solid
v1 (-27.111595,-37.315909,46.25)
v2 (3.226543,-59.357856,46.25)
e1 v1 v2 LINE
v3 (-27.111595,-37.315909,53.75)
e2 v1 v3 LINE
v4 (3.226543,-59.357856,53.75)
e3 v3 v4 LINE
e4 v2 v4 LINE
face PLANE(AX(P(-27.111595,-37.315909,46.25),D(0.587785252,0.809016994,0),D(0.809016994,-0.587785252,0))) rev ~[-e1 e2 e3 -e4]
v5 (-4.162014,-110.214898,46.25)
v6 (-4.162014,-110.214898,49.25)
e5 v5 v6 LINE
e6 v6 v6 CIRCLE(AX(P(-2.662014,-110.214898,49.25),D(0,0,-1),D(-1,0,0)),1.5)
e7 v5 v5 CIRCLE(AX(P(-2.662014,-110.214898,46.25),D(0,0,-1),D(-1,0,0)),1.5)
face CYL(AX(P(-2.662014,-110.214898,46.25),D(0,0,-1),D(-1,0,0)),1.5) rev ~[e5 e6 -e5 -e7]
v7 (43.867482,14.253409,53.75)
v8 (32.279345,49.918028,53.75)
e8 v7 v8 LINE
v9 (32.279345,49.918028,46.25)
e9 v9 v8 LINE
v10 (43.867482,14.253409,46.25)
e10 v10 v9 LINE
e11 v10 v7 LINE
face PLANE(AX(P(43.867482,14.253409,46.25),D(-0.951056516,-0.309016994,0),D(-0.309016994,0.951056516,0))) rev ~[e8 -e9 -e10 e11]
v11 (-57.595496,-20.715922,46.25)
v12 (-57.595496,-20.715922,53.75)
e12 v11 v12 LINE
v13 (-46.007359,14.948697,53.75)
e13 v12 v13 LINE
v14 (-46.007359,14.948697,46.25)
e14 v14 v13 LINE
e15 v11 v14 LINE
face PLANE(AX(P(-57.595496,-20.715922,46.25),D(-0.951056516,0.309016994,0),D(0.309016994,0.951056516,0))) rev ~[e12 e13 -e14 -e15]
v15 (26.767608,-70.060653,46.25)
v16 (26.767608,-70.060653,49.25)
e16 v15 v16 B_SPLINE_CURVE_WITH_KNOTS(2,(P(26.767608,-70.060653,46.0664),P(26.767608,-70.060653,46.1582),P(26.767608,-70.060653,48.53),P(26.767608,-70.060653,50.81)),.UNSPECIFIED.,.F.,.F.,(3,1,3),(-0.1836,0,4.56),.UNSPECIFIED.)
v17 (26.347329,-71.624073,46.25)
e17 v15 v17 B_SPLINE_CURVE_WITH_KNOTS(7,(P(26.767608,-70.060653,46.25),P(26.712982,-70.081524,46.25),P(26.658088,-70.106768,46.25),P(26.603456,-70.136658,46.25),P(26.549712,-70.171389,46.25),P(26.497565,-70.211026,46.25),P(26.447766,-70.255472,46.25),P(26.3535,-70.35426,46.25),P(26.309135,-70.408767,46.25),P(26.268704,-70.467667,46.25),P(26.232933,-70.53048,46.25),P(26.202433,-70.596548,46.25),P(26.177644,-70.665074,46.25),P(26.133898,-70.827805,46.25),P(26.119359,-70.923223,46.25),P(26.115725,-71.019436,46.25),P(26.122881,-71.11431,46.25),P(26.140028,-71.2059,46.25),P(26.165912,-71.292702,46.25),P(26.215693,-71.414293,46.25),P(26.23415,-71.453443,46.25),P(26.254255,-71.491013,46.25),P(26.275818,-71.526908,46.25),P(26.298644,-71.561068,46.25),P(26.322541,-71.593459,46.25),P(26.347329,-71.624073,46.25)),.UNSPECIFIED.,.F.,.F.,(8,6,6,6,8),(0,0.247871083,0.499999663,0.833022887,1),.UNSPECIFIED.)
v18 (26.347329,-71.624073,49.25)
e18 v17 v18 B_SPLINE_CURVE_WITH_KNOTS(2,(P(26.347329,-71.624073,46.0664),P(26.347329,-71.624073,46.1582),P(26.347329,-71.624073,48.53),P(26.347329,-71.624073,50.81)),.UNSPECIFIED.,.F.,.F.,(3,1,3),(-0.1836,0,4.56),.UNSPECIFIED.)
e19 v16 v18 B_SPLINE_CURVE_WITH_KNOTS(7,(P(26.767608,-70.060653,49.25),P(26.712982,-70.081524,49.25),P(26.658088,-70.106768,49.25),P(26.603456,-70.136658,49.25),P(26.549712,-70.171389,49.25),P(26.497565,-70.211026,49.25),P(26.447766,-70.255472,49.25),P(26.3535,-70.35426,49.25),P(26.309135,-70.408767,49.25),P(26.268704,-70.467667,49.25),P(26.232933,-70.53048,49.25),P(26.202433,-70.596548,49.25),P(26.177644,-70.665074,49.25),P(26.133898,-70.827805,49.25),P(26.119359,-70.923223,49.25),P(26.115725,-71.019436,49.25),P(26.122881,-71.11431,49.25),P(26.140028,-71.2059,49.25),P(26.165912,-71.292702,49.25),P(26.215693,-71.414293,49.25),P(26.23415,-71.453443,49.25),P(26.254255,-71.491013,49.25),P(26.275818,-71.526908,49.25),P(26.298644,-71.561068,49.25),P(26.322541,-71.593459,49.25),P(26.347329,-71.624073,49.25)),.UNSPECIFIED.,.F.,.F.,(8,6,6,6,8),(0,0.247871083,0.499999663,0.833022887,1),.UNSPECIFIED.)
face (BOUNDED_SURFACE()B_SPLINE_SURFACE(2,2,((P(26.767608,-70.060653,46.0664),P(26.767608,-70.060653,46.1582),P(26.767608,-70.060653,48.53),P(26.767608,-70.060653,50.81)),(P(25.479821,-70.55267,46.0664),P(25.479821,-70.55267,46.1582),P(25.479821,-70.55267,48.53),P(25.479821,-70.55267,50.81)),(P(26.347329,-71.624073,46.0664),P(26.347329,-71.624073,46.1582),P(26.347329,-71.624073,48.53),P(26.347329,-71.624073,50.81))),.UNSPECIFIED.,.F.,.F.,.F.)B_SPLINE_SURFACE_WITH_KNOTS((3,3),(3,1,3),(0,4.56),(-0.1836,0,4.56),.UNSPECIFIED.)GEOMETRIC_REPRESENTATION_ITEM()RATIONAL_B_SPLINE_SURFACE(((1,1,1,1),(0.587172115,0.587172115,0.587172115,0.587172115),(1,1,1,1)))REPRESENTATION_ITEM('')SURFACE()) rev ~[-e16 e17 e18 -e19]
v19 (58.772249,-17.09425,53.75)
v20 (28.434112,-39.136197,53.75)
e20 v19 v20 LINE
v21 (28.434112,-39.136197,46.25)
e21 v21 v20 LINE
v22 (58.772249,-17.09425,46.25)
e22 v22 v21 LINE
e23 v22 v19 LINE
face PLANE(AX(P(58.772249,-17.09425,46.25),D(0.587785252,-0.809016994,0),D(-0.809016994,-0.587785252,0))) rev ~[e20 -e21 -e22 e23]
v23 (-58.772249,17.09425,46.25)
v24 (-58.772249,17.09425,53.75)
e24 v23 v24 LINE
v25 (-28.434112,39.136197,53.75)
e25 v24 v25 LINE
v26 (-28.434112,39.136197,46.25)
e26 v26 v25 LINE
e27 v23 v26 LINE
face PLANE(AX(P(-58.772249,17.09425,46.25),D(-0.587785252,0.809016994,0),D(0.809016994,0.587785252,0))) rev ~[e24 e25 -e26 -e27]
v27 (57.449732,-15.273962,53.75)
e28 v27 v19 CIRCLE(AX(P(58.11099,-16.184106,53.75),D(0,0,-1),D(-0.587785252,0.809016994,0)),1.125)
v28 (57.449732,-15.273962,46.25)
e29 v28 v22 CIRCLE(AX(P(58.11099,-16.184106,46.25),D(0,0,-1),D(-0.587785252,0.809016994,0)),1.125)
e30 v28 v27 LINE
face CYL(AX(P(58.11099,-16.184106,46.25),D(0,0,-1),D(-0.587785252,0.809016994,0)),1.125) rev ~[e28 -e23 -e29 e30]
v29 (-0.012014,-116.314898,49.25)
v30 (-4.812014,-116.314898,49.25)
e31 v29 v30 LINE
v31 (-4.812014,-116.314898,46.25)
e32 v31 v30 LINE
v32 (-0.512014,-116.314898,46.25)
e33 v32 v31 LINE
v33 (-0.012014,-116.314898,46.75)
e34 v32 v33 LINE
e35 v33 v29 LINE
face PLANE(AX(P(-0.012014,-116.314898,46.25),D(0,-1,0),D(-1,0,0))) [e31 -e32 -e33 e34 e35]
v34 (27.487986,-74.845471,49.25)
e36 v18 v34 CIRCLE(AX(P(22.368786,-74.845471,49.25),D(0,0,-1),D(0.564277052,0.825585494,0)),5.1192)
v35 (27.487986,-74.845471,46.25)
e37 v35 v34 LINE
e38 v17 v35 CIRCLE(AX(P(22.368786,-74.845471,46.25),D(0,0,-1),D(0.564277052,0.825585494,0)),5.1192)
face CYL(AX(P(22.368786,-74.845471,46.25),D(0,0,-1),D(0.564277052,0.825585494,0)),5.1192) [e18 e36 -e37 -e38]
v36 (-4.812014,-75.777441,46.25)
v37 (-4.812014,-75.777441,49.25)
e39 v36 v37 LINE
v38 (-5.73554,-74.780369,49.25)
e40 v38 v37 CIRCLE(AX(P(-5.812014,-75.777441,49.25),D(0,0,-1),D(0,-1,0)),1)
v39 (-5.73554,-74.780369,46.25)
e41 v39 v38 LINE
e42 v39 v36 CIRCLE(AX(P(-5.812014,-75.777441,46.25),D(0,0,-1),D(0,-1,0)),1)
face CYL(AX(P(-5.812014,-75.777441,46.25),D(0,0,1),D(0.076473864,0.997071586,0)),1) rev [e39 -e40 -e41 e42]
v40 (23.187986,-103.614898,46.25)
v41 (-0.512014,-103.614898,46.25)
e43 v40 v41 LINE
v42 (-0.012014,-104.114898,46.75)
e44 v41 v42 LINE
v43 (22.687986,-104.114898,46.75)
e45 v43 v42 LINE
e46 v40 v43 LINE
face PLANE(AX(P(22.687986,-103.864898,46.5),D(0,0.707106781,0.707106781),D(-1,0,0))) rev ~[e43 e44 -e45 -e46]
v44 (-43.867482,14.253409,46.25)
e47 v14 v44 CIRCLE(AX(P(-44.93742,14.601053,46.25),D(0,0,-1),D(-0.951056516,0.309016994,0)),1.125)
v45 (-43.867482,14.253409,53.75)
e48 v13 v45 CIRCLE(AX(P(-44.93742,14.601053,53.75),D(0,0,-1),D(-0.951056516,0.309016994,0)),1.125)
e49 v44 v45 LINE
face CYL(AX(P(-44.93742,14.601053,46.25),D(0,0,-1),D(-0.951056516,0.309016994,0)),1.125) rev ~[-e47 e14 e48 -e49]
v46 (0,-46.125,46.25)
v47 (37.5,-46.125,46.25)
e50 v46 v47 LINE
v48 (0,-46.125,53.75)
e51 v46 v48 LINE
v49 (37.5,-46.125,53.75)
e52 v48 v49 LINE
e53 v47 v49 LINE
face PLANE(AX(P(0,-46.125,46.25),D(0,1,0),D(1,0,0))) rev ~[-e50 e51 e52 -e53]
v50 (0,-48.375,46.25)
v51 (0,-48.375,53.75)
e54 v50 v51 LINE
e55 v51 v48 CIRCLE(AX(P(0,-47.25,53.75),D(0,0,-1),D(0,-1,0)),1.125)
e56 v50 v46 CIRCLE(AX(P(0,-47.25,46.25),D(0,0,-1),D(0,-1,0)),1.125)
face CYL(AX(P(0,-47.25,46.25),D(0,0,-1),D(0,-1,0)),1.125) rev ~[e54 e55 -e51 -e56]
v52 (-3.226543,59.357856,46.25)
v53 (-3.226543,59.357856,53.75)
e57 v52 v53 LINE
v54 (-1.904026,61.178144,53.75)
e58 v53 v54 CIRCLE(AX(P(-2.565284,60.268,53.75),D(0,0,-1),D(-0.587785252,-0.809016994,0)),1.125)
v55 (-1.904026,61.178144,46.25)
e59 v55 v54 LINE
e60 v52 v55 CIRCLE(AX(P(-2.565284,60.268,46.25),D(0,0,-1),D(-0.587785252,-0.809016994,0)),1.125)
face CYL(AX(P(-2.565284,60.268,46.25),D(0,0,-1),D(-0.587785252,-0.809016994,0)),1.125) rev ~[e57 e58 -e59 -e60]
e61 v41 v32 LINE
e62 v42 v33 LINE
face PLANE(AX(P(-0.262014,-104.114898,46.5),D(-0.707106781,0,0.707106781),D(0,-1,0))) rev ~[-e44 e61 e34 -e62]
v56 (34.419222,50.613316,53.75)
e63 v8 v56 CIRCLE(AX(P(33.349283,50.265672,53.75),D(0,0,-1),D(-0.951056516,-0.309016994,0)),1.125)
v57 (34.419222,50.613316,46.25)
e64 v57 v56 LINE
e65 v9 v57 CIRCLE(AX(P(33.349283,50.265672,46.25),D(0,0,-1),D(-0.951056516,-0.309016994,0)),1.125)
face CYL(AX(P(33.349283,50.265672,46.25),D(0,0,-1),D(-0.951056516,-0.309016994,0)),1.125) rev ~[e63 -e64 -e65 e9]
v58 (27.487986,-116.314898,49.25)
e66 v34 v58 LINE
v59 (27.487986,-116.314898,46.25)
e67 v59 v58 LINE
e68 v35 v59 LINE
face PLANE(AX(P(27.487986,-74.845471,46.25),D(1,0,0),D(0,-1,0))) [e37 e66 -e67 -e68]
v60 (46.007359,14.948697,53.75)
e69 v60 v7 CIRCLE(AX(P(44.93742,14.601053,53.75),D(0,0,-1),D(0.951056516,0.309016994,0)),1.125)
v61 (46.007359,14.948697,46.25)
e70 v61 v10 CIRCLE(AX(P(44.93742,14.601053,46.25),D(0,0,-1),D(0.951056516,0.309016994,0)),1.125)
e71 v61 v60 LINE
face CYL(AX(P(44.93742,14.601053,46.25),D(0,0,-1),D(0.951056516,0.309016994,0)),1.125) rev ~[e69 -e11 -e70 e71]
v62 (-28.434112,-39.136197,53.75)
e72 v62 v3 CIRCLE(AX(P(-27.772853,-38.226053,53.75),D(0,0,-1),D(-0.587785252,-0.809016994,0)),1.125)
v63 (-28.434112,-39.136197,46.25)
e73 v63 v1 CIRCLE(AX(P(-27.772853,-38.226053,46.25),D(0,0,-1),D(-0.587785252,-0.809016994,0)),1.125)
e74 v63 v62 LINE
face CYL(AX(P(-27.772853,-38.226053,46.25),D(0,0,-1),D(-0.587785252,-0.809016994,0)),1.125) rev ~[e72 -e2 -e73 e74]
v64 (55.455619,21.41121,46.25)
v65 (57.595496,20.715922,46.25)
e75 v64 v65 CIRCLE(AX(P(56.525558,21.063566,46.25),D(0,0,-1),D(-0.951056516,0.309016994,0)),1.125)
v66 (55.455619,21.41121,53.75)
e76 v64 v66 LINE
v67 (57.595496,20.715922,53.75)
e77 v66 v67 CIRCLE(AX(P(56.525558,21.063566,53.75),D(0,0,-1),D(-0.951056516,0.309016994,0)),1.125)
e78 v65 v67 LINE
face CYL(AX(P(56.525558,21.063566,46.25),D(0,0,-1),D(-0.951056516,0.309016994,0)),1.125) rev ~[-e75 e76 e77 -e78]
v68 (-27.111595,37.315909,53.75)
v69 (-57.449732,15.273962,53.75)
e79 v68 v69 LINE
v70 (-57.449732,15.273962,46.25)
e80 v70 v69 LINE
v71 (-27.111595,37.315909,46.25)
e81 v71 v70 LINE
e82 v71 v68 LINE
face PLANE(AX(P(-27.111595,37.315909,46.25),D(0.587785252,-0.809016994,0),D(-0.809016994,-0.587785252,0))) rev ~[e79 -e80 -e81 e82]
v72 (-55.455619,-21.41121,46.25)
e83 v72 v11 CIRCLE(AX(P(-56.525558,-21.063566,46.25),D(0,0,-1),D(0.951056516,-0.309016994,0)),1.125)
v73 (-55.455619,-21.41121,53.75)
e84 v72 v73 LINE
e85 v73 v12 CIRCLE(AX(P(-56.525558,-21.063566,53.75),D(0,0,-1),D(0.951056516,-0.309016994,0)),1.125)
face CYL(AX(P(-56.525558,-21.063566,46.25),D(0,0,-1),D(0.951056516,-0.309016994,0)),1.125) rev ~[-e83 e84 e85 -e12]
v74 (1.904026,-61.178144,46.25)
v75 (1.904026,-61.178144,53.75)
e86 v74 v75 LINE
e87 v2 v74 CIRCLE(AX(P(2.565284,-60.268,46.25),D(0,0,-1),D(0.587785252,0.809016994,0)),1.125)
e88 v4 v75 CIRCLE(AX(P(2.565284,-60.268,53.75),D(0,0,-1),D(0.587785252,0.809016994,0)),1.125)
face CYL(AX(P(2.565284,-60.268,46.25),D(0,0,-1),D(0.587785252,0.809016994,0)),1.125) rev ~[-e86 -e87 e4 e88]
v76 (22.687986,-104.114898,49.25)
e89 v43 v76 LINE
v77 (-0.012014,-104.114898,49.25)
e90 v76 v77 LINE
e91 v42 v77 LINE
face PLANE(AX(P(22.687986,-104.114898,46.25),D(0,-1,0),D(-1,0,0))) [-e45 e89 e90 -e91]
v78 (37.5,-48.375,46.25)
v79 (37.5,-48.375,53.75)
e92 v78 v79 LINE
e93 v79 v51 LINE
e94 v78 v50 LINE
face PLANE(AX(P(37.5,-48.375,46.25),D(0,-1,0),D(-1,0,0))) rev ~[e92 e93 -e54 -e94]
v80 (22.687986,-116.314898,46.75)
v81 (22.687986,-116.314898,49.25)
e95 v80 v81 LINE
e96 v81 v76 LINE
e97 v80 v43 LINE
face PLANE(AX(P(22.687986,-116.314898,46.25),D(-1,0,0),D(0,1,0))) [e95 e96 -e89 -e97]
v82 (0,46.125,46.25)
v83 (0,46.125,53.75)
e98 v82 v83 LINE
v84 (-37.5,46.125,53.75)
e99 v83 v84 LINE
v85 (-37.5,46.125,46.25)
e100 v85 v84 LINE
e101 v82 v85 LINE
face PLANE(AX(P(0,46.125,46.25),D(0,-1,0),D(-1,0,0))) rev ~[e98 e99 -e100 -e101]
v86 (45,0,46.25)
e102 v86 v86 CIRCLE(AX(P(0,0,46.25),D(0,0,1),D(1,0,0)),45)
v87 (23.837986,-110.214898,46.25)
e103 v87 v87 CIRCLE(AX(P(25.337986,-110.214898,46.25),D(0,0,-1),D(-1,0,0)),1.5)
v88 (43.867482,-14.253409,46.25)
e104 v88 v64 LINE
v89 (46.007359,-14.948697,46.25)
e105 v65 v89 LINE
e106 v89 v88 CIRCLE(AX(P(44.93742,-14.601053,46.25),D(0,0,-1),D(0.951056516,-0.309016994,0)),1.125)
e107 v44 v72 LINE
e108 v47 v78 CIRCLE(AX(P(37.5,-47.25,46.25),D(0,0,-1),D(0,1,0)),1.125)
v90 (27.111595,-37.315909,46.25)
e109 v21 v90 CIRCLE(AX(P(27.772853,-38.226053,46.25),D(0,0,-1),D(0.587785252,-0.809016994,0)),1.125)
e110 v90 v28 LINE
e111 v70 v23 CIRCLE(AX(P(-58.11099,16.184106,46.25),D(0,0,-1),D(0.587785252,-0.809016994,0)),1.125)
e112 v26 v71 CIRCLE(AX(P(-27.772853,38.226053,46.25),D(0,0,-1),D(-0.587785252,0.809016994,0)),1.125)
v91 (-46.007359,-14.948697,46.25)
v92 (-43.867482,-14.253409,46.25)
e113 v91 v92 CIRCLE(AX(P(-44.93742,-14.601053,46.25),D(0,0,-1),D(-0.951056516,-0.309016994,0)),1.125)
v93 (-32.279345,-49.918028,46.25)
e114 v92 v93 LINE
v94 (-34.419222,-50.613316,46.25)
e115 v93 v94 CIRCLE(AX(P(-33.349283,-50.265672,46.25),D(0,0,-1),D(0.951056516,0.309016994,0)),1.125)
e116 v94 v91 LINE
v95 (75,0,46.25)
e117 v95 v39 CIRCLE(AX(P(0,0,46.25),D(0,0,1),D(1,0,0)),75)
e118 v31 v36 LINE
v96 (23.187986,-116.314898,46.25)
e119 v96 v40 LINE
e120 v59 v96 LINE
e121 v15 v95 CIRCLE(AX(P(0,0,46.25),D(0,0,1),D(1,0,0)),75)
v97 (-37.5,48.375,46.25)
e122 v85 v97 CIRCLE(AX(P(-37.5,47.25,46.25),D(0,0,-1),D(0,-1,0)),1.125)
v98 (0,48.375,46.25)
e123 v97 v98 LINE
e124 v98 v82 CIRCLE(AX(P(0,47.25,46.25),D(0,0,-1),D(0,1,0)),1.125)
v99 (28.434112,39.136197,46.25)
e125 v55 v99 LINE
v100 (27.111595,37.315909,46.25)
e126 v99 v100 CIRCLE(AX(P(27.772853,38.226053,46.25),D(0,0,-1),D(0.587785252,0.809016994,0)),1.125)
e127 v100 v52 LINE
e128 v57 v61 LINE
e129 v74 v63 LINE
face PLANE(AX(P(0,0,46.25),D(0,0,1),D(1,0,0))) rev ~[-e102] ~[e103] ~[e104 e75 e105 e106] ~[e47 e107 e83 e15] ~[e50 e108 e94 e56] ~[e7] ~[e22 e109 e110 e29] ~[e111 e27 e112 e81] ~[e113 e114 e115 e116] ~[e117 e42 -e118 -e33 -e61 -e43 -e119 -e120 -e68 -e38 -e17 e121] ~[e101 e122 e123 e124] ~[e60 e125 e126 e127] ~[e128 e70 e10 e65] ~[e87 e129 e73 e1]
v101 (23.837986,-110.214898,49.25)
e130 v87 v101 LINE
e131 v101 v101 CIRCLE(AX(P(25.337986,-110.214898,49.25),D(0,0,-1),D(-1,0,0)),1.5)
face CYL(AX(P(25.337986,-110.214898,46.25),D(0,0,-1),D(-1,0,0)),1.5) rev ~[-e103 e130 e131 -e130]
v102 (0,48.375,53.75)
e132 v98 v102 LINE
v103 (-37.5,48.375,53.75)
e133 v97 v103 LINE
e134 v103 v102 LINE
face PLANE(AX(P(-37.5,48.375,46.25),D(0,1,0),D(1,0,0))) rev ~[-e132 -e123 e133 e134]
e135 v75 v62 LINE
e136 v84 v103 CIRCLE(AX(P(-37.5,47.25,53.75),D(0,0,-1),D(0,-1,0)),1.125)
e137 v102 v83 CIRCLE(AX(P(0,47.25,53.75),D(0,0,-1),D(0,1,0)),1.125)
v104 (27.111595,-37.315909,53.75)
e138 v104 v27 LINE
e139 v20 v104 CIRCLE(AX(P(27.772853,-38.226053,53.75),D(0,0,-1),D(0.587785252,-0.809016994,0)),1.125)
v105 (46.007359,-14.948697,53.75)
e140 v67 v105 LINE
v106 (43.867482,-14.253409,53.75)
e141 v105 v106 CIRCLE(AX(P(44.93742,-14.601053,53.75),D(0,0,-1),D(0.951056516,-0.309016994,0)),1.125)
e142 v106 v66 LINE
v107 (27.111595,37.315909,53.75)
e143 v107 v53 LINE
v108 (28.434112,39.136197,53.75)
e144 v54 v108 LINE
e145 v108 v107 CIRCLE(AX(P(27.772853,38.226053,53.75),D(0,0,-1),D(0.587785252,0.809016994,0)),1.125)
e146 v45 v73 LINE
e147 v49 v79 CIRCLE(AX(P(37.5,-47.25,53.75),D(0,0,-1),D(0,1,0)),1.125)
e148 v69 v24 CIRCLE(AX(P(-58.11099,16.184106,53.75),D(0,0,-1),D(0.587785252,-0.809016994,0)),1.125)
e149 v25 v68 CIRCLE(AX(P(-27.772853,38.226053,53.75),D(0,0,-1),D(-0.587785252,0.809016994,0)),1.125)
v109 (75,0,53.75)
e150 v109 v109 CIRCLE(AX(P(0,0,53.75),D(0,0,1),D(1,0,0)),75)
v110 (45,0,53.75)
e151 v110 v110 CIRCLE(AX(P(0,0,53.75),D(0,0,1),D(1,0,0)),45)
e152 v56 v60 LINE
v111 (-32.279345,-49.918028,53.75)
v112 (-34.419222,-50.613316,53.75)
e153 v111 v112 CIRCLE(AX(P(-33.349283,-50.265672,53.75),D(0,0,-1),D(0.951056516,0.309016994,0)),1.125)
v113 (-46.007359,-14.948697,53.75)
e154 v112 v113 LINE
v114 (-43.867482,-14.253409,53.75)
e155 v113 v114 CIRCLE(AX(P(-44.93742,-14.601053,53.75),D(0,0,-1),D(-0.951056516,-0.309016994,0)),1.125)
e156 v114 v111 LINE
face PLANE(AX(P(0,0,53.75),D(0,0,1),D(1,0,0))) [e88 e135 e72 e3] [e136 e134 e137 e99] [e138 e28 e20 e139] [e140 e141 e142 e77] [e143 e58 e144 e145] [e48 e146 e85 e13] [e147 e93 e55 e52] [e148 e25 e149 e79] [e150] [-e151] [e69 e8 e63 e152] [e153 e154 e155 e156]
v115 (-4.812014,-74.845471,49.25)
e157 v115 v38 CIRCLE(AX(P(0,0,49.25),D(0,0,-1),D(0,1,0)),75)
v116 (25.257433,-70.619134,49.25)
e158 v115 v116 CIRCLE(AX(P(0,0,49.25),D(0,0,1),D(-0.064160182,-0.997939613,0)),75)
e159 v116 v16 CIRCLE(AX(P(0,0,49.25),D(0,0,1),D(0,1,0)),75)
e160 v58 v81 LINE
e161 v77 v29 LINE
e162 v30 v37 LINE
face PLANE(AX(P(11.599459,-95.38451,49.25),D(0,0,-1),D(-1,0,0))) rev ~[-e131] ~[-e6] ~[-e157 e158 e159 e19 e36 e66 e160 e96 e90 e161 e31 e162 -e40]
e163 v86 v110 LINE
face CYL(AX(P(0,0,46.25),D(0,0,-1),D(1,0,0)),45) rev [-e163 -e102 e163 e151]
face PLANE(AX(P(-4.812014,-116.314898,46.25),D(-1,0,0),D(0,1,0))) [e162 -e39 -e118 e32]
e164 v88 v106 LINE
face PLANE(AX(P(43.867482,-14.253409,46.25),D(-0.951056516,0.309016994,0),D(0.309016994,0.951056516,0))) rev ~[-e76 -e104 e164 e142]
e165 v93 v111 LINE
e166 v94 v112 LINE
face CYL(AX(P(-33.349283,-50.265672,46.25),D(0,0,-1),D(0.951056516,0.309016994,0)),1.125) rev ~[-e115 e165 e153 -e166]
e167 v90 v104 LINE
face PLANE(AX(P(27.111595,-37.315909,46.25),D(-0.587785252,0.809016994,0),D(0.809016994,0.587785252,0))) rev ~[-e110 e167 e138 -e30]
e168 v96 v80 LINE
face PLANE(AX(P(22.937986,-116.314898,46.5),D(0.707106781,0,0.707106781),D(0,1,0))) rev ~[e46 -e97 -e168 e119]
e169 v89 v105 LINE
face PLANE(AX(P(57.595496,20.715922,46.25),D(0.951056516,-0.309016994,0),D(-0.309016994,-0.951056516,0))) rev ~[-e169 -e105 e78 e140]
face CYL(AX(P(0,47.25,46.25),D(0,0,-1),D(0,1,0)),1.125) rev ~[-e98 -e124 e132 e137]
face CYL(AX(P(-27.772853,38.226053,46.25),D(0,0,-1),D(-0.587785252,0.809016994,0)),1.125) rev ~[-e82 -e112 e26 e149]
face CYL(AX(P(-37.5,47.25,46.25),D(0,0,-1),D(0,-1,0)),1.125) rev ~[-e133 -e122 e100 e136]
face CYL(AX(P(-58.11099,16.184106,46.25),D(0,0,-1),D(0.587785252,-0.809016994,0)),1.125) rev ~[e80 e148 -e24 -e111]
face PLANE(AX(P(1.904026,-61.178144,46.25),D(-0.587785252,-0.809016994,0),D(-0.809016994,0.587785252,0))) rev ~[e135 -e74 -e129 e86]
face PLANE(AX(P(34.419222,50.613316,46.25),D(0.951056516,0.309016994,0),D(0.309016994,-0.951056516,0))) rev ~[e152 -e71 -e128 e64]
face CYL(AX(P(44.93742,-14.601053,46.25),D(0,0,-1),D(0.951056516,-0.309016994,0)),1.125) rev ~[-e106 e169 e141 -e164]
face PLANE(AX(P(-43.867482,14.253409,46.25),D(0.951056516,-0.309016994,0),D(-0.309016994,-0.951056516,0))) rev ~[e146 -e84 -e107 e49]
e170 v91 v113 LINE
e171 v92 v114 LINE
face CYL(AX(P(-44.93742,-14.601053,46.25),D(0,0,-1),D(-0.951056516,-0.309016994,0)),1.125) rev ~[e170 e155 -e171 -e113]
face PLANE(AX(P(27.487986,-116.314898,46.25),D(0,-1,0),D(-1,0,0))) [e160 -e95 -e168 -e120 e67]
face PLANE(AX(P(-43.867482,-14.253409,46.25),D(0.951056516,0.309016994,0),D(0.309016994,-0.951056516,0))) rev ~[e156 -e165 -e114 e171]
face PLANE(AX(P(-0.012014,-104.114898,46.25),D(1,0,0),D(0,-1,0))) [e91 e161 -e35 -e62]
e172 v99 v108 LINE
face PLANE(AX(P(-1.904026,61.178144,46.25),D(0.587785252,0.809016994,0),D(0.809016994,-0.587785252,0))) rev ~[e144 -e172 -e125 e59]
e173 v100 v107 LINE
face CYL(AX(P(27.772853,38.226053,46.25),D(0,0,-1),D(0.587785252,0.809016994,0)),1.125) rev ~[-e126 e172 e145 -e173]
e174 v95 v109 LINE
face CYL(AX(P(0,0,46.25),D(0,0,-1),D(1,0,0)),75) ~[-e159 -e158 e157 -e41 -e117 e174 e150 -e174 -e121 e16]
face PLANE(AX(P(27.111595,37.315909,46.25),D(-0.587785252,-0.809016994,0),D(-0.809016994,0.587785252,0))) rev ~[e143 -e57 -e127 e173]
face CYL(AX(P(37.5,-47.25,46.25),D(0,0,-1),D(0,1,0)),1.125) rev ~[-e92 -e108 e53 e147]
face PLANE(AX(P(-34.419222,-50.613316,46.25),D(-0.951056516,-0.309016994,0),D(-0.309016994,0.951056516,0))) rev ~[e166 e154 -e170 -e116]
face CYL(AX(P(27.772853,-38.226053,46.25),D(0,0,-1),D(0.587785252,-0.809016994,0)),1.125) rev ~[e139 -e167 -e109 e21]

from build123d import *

# Parameters (mm, degrees)
SKETCH1_R           = 1000
SKETCH1_R_2         = 600
BOSS_EXTRUDE1_DEPTH = 100
ECHELLE1_SCALE      = 0.075
ESQUISSE1_R         = 1.5
BOSS_EXTRU_1_DEPTH  = 3
CONG_1_R            = 1
CONG_3_R            = 1
CHANFREIN1_SIZE     = 0.5


with BuildPart() as part:
    # Sketch1 → Boss-Extrude1 (new body)
    with BuildSketch(Plane.XY):
        Circle(SKETCH1_R)
        Circle(SKETCH1_R_2, mode=Mode.SUBTRACT)
        with BuildLine():
            Line((0, 615), (-500, 615))
            ThreePointArc((-500, 615), (-515, 630), (-500, 645))
            Line((-500, 645), (0, 645))
            ThreePointArc((0, 645), (15, 630), (0, 615))
        make_face(mode=Mode.SUBTRACT)
        with BuildLine():
            Line((361.48793016, 497.54545154), (-43.020567028, 791.438077687))
            ThreePointArc((-43.020567028, 791.438077687), (-46.339043159, 812.390111387), (-25.387009459, 815.708587518))
            Line((-25.387009459, 815.708587518), (379.121487729, 521.815961372))
            ThreePointArc((379.121487729, 521.815961372), (382.43996386, 500.863927672), (361.48793016, 497.54545154))
        make_face(mode=Mode.SUBTRACT)
        with BuildLine():
            Line((584.899757522, 190.04545154), (430.391260334, 665.573709688))
            ThreePointArc((430.391260334, 665.573709688), (440.021853163, 684.474812348), (458.922955823, 674.84421952))
            Line((458.922955823, 674.84421952), (613.43145301, 199.315961372))
            ThreePointArc((613.43145301, 199.315961372), (603.800860182, 180.414858712), (584.899757522, 190.04545154))
        make_face(mode=Mode.SUBTRACT)
        with BuildLine():
            Line((584.899757521, -190.045451541), (739.408254709, 285.482806607))
            ThreePointArc((739.408254709, 285.482806607), (758.309357369, 295.113399436), (767.939950198, 276.212296776))
            Line((767.939950198, 276.212296776), (613.43145301, -199.315961372))
            ThreePointArc((613.43145301, -199.315961372), (594.53035035, -208.946554201), (584.899757521, -190.045451541))
        make_face(mode=Mode.SUBTRACT)
        with BuildLine():
            Line((361.48793016, -497.545451541), (765.996427348, -203.652825394))
            ThreePointArc((765.996427348, -203.652825394), (786.948461048, -206.971301525), (783.629984916, -227.923335225))
            Line((783.629984916, -227.923335225), (379.121487729, -521.815961372))
            ThreePointArc((379.121487729, -521.815961372), (358.169454029, -518.497485241), (361.48793016, -497.545451541))
        make_face(mode=Mode.SUBTRACT)
        with BuildLine():
            Line((0, -615), (500, -615))
            ThreePointArc((500, -615), (515, -630), (500, -645))
            Line((500, -645), (0, -645))
            ThreePointArc((0, -645), (-15, -630), (0, -615))
        make_face(mode=Mode.SUBTRACT)
        with BuildLine():
            Line((-361.48793016, -497.54545154), (43.020567028, -791.438077687))
            ThreePointArc((43.020567028, -791.438077687), (46.339043159, -812.390111387), (25.387009459, -815.708587518))
            Line((25.387009459, -815.708587518), (-379.121487729, -521.815961372))
            ThreePointArc((-379.121487729, -521.815961372), (-382.43996386, -500.863927672), (-361.48793016, -497.54545154))
        make_face(mode=Mode.SUBTRACT)
        with BuildLine():
            Line((-584.899757522, -190.04545154), (-430.391260334, -665.573709688))
            ThreePointArc((-430.391260334, -665.573709688), (-440.021853163, -684.474812348), (-458.922955823, -674.84421952))
            Line((-458.922955823, -674.84421952), (-613.43145301, -199.315961372))
            ThreePointArc((-613.43145301, -199.315961372), (-603.800860182, -180.414858712), (-584.899757522, -190.04545154))
        make_face(mode=Mode.SUBTRACT)
        with BuildLine():
            Line((-584.899757521, 190.045451541), (-739.408254709, -285.482806607))
            ThreePointArc((-739.408254709, -285.482806607), (-758.309357369, -295.113399436), (-767.939950198, -276.212296776))
            Line((-767.939950198, -276.212296776), (-613.43145301, 199.315961372))
            ThreePointArc((-613.43145301, 199.315961372), (-594.53035035, 208.946554201), (-584.899757521, 190.045451541))
        make_face(mode=Mode.SUBTRACT)
        with BuildLine():
            Line((-361.48793016, 497.545451541), (-765.996427347, 203.652825394))
            ThreePointArc((-765.996427347, 203.652825394), (-786.948461048, 206.971301525), (-783.629984916, 227.923335225))
            Line((-783.629984916, 227.923335225), (-379.121487728, 521.815961372))
            ThreePointArc((-379.121487728, 521.815961372), (-358.169454028, 518.497485241), (-361.48793016, 497.545451541))
        make_face(mode=Mode.SUBTRACT)
    extrude(amount=BOSS_EXTRUDE1_DEPTH)


with BuildPart() as part_1:
    # Echelle1: scaled about (0, 0, 50)
    add(part.part.scale(ECHELLE1_SCALE).moved(Location((0, 0, 46.25))))

    # Esquisse1 → Boss.-Extru.1 (add)
    with BuildSketch(Plane(origin=(0, 0, 46.25), x_dir=(-1, 0, 0), z_dir=(0, 0, -1))):
        with BuildLine():
            Line((0.012013665, -104.11489824), (0.012013665, -116.31489824))
            Line((0.012013665, -116.31489824), (4.812013665, -116.31489824))
            Line((4.812013665, -116.31489824), (4.812013665, -74.845470968))
            ThreePointArc((4.812013665, -74.845470968), (-10.438835143, -74.26998533), (-25.257433458, -70.619133775))
            ThreePointArc((-25.257433458, -70.619133775), (-26.896134951, -72.45605199), (-27.487986335, -74.845470968))
            Line((-27.487986335, -74.845470968), (-27.487986335, -116.31489824))
            Line((-27.487986335, -116.31489824), (-22.687986335, -116.31489824))
            Line((-22.687986335, -116.31489824), (-22.687986335, -104.11489824))
            Line((-22.687986335, -104.11489824), (0.012013665, -104.11489824))
        make_face()
        with Locations((-25.337986335, -110.21489824)):
            Circle(ESQUISSE1_R, mode=Mode.SUBTRACT)
        with Locations((2.662013665, -110.21489824)):
            Circle(ESQUISSE1_R, mode=Mode.SUBTRACT)
    extrude(amount=-BOSS_EXTRU_1_DEPTH)

    # Congé1
    cong_1_edges = [part_1.edges().sort_by_distance(p)[0] for p in [
        (25.257433458, -70.619133775, 47.75),
    ]]
    fillet(cong_1_edges, radius=CONG_1_R)

    # Congé3
    cong_3_edges = [part_1.edges().sort_by_distance(p)[0] for p in [
        (-4.812013665, -74.845470968, 47.75),
    ]]
    fillet(cong_3_edges, radius=CONG_3_R)

    # Chanfrein1
    chanfrein1_edges = [part_1.edges().sort_by_distance(p)[0] for p in [
        (22.687986335, -110.21489824, 46.25),
        (11.337986335, -104.11489824, 46.25),
        (-0.012013665, -110.21489824, 46.25),
    ]]
    chamfer(chanfrein1_edges, length=CHANFREIN1_SIZE)


solid = part_1.part
